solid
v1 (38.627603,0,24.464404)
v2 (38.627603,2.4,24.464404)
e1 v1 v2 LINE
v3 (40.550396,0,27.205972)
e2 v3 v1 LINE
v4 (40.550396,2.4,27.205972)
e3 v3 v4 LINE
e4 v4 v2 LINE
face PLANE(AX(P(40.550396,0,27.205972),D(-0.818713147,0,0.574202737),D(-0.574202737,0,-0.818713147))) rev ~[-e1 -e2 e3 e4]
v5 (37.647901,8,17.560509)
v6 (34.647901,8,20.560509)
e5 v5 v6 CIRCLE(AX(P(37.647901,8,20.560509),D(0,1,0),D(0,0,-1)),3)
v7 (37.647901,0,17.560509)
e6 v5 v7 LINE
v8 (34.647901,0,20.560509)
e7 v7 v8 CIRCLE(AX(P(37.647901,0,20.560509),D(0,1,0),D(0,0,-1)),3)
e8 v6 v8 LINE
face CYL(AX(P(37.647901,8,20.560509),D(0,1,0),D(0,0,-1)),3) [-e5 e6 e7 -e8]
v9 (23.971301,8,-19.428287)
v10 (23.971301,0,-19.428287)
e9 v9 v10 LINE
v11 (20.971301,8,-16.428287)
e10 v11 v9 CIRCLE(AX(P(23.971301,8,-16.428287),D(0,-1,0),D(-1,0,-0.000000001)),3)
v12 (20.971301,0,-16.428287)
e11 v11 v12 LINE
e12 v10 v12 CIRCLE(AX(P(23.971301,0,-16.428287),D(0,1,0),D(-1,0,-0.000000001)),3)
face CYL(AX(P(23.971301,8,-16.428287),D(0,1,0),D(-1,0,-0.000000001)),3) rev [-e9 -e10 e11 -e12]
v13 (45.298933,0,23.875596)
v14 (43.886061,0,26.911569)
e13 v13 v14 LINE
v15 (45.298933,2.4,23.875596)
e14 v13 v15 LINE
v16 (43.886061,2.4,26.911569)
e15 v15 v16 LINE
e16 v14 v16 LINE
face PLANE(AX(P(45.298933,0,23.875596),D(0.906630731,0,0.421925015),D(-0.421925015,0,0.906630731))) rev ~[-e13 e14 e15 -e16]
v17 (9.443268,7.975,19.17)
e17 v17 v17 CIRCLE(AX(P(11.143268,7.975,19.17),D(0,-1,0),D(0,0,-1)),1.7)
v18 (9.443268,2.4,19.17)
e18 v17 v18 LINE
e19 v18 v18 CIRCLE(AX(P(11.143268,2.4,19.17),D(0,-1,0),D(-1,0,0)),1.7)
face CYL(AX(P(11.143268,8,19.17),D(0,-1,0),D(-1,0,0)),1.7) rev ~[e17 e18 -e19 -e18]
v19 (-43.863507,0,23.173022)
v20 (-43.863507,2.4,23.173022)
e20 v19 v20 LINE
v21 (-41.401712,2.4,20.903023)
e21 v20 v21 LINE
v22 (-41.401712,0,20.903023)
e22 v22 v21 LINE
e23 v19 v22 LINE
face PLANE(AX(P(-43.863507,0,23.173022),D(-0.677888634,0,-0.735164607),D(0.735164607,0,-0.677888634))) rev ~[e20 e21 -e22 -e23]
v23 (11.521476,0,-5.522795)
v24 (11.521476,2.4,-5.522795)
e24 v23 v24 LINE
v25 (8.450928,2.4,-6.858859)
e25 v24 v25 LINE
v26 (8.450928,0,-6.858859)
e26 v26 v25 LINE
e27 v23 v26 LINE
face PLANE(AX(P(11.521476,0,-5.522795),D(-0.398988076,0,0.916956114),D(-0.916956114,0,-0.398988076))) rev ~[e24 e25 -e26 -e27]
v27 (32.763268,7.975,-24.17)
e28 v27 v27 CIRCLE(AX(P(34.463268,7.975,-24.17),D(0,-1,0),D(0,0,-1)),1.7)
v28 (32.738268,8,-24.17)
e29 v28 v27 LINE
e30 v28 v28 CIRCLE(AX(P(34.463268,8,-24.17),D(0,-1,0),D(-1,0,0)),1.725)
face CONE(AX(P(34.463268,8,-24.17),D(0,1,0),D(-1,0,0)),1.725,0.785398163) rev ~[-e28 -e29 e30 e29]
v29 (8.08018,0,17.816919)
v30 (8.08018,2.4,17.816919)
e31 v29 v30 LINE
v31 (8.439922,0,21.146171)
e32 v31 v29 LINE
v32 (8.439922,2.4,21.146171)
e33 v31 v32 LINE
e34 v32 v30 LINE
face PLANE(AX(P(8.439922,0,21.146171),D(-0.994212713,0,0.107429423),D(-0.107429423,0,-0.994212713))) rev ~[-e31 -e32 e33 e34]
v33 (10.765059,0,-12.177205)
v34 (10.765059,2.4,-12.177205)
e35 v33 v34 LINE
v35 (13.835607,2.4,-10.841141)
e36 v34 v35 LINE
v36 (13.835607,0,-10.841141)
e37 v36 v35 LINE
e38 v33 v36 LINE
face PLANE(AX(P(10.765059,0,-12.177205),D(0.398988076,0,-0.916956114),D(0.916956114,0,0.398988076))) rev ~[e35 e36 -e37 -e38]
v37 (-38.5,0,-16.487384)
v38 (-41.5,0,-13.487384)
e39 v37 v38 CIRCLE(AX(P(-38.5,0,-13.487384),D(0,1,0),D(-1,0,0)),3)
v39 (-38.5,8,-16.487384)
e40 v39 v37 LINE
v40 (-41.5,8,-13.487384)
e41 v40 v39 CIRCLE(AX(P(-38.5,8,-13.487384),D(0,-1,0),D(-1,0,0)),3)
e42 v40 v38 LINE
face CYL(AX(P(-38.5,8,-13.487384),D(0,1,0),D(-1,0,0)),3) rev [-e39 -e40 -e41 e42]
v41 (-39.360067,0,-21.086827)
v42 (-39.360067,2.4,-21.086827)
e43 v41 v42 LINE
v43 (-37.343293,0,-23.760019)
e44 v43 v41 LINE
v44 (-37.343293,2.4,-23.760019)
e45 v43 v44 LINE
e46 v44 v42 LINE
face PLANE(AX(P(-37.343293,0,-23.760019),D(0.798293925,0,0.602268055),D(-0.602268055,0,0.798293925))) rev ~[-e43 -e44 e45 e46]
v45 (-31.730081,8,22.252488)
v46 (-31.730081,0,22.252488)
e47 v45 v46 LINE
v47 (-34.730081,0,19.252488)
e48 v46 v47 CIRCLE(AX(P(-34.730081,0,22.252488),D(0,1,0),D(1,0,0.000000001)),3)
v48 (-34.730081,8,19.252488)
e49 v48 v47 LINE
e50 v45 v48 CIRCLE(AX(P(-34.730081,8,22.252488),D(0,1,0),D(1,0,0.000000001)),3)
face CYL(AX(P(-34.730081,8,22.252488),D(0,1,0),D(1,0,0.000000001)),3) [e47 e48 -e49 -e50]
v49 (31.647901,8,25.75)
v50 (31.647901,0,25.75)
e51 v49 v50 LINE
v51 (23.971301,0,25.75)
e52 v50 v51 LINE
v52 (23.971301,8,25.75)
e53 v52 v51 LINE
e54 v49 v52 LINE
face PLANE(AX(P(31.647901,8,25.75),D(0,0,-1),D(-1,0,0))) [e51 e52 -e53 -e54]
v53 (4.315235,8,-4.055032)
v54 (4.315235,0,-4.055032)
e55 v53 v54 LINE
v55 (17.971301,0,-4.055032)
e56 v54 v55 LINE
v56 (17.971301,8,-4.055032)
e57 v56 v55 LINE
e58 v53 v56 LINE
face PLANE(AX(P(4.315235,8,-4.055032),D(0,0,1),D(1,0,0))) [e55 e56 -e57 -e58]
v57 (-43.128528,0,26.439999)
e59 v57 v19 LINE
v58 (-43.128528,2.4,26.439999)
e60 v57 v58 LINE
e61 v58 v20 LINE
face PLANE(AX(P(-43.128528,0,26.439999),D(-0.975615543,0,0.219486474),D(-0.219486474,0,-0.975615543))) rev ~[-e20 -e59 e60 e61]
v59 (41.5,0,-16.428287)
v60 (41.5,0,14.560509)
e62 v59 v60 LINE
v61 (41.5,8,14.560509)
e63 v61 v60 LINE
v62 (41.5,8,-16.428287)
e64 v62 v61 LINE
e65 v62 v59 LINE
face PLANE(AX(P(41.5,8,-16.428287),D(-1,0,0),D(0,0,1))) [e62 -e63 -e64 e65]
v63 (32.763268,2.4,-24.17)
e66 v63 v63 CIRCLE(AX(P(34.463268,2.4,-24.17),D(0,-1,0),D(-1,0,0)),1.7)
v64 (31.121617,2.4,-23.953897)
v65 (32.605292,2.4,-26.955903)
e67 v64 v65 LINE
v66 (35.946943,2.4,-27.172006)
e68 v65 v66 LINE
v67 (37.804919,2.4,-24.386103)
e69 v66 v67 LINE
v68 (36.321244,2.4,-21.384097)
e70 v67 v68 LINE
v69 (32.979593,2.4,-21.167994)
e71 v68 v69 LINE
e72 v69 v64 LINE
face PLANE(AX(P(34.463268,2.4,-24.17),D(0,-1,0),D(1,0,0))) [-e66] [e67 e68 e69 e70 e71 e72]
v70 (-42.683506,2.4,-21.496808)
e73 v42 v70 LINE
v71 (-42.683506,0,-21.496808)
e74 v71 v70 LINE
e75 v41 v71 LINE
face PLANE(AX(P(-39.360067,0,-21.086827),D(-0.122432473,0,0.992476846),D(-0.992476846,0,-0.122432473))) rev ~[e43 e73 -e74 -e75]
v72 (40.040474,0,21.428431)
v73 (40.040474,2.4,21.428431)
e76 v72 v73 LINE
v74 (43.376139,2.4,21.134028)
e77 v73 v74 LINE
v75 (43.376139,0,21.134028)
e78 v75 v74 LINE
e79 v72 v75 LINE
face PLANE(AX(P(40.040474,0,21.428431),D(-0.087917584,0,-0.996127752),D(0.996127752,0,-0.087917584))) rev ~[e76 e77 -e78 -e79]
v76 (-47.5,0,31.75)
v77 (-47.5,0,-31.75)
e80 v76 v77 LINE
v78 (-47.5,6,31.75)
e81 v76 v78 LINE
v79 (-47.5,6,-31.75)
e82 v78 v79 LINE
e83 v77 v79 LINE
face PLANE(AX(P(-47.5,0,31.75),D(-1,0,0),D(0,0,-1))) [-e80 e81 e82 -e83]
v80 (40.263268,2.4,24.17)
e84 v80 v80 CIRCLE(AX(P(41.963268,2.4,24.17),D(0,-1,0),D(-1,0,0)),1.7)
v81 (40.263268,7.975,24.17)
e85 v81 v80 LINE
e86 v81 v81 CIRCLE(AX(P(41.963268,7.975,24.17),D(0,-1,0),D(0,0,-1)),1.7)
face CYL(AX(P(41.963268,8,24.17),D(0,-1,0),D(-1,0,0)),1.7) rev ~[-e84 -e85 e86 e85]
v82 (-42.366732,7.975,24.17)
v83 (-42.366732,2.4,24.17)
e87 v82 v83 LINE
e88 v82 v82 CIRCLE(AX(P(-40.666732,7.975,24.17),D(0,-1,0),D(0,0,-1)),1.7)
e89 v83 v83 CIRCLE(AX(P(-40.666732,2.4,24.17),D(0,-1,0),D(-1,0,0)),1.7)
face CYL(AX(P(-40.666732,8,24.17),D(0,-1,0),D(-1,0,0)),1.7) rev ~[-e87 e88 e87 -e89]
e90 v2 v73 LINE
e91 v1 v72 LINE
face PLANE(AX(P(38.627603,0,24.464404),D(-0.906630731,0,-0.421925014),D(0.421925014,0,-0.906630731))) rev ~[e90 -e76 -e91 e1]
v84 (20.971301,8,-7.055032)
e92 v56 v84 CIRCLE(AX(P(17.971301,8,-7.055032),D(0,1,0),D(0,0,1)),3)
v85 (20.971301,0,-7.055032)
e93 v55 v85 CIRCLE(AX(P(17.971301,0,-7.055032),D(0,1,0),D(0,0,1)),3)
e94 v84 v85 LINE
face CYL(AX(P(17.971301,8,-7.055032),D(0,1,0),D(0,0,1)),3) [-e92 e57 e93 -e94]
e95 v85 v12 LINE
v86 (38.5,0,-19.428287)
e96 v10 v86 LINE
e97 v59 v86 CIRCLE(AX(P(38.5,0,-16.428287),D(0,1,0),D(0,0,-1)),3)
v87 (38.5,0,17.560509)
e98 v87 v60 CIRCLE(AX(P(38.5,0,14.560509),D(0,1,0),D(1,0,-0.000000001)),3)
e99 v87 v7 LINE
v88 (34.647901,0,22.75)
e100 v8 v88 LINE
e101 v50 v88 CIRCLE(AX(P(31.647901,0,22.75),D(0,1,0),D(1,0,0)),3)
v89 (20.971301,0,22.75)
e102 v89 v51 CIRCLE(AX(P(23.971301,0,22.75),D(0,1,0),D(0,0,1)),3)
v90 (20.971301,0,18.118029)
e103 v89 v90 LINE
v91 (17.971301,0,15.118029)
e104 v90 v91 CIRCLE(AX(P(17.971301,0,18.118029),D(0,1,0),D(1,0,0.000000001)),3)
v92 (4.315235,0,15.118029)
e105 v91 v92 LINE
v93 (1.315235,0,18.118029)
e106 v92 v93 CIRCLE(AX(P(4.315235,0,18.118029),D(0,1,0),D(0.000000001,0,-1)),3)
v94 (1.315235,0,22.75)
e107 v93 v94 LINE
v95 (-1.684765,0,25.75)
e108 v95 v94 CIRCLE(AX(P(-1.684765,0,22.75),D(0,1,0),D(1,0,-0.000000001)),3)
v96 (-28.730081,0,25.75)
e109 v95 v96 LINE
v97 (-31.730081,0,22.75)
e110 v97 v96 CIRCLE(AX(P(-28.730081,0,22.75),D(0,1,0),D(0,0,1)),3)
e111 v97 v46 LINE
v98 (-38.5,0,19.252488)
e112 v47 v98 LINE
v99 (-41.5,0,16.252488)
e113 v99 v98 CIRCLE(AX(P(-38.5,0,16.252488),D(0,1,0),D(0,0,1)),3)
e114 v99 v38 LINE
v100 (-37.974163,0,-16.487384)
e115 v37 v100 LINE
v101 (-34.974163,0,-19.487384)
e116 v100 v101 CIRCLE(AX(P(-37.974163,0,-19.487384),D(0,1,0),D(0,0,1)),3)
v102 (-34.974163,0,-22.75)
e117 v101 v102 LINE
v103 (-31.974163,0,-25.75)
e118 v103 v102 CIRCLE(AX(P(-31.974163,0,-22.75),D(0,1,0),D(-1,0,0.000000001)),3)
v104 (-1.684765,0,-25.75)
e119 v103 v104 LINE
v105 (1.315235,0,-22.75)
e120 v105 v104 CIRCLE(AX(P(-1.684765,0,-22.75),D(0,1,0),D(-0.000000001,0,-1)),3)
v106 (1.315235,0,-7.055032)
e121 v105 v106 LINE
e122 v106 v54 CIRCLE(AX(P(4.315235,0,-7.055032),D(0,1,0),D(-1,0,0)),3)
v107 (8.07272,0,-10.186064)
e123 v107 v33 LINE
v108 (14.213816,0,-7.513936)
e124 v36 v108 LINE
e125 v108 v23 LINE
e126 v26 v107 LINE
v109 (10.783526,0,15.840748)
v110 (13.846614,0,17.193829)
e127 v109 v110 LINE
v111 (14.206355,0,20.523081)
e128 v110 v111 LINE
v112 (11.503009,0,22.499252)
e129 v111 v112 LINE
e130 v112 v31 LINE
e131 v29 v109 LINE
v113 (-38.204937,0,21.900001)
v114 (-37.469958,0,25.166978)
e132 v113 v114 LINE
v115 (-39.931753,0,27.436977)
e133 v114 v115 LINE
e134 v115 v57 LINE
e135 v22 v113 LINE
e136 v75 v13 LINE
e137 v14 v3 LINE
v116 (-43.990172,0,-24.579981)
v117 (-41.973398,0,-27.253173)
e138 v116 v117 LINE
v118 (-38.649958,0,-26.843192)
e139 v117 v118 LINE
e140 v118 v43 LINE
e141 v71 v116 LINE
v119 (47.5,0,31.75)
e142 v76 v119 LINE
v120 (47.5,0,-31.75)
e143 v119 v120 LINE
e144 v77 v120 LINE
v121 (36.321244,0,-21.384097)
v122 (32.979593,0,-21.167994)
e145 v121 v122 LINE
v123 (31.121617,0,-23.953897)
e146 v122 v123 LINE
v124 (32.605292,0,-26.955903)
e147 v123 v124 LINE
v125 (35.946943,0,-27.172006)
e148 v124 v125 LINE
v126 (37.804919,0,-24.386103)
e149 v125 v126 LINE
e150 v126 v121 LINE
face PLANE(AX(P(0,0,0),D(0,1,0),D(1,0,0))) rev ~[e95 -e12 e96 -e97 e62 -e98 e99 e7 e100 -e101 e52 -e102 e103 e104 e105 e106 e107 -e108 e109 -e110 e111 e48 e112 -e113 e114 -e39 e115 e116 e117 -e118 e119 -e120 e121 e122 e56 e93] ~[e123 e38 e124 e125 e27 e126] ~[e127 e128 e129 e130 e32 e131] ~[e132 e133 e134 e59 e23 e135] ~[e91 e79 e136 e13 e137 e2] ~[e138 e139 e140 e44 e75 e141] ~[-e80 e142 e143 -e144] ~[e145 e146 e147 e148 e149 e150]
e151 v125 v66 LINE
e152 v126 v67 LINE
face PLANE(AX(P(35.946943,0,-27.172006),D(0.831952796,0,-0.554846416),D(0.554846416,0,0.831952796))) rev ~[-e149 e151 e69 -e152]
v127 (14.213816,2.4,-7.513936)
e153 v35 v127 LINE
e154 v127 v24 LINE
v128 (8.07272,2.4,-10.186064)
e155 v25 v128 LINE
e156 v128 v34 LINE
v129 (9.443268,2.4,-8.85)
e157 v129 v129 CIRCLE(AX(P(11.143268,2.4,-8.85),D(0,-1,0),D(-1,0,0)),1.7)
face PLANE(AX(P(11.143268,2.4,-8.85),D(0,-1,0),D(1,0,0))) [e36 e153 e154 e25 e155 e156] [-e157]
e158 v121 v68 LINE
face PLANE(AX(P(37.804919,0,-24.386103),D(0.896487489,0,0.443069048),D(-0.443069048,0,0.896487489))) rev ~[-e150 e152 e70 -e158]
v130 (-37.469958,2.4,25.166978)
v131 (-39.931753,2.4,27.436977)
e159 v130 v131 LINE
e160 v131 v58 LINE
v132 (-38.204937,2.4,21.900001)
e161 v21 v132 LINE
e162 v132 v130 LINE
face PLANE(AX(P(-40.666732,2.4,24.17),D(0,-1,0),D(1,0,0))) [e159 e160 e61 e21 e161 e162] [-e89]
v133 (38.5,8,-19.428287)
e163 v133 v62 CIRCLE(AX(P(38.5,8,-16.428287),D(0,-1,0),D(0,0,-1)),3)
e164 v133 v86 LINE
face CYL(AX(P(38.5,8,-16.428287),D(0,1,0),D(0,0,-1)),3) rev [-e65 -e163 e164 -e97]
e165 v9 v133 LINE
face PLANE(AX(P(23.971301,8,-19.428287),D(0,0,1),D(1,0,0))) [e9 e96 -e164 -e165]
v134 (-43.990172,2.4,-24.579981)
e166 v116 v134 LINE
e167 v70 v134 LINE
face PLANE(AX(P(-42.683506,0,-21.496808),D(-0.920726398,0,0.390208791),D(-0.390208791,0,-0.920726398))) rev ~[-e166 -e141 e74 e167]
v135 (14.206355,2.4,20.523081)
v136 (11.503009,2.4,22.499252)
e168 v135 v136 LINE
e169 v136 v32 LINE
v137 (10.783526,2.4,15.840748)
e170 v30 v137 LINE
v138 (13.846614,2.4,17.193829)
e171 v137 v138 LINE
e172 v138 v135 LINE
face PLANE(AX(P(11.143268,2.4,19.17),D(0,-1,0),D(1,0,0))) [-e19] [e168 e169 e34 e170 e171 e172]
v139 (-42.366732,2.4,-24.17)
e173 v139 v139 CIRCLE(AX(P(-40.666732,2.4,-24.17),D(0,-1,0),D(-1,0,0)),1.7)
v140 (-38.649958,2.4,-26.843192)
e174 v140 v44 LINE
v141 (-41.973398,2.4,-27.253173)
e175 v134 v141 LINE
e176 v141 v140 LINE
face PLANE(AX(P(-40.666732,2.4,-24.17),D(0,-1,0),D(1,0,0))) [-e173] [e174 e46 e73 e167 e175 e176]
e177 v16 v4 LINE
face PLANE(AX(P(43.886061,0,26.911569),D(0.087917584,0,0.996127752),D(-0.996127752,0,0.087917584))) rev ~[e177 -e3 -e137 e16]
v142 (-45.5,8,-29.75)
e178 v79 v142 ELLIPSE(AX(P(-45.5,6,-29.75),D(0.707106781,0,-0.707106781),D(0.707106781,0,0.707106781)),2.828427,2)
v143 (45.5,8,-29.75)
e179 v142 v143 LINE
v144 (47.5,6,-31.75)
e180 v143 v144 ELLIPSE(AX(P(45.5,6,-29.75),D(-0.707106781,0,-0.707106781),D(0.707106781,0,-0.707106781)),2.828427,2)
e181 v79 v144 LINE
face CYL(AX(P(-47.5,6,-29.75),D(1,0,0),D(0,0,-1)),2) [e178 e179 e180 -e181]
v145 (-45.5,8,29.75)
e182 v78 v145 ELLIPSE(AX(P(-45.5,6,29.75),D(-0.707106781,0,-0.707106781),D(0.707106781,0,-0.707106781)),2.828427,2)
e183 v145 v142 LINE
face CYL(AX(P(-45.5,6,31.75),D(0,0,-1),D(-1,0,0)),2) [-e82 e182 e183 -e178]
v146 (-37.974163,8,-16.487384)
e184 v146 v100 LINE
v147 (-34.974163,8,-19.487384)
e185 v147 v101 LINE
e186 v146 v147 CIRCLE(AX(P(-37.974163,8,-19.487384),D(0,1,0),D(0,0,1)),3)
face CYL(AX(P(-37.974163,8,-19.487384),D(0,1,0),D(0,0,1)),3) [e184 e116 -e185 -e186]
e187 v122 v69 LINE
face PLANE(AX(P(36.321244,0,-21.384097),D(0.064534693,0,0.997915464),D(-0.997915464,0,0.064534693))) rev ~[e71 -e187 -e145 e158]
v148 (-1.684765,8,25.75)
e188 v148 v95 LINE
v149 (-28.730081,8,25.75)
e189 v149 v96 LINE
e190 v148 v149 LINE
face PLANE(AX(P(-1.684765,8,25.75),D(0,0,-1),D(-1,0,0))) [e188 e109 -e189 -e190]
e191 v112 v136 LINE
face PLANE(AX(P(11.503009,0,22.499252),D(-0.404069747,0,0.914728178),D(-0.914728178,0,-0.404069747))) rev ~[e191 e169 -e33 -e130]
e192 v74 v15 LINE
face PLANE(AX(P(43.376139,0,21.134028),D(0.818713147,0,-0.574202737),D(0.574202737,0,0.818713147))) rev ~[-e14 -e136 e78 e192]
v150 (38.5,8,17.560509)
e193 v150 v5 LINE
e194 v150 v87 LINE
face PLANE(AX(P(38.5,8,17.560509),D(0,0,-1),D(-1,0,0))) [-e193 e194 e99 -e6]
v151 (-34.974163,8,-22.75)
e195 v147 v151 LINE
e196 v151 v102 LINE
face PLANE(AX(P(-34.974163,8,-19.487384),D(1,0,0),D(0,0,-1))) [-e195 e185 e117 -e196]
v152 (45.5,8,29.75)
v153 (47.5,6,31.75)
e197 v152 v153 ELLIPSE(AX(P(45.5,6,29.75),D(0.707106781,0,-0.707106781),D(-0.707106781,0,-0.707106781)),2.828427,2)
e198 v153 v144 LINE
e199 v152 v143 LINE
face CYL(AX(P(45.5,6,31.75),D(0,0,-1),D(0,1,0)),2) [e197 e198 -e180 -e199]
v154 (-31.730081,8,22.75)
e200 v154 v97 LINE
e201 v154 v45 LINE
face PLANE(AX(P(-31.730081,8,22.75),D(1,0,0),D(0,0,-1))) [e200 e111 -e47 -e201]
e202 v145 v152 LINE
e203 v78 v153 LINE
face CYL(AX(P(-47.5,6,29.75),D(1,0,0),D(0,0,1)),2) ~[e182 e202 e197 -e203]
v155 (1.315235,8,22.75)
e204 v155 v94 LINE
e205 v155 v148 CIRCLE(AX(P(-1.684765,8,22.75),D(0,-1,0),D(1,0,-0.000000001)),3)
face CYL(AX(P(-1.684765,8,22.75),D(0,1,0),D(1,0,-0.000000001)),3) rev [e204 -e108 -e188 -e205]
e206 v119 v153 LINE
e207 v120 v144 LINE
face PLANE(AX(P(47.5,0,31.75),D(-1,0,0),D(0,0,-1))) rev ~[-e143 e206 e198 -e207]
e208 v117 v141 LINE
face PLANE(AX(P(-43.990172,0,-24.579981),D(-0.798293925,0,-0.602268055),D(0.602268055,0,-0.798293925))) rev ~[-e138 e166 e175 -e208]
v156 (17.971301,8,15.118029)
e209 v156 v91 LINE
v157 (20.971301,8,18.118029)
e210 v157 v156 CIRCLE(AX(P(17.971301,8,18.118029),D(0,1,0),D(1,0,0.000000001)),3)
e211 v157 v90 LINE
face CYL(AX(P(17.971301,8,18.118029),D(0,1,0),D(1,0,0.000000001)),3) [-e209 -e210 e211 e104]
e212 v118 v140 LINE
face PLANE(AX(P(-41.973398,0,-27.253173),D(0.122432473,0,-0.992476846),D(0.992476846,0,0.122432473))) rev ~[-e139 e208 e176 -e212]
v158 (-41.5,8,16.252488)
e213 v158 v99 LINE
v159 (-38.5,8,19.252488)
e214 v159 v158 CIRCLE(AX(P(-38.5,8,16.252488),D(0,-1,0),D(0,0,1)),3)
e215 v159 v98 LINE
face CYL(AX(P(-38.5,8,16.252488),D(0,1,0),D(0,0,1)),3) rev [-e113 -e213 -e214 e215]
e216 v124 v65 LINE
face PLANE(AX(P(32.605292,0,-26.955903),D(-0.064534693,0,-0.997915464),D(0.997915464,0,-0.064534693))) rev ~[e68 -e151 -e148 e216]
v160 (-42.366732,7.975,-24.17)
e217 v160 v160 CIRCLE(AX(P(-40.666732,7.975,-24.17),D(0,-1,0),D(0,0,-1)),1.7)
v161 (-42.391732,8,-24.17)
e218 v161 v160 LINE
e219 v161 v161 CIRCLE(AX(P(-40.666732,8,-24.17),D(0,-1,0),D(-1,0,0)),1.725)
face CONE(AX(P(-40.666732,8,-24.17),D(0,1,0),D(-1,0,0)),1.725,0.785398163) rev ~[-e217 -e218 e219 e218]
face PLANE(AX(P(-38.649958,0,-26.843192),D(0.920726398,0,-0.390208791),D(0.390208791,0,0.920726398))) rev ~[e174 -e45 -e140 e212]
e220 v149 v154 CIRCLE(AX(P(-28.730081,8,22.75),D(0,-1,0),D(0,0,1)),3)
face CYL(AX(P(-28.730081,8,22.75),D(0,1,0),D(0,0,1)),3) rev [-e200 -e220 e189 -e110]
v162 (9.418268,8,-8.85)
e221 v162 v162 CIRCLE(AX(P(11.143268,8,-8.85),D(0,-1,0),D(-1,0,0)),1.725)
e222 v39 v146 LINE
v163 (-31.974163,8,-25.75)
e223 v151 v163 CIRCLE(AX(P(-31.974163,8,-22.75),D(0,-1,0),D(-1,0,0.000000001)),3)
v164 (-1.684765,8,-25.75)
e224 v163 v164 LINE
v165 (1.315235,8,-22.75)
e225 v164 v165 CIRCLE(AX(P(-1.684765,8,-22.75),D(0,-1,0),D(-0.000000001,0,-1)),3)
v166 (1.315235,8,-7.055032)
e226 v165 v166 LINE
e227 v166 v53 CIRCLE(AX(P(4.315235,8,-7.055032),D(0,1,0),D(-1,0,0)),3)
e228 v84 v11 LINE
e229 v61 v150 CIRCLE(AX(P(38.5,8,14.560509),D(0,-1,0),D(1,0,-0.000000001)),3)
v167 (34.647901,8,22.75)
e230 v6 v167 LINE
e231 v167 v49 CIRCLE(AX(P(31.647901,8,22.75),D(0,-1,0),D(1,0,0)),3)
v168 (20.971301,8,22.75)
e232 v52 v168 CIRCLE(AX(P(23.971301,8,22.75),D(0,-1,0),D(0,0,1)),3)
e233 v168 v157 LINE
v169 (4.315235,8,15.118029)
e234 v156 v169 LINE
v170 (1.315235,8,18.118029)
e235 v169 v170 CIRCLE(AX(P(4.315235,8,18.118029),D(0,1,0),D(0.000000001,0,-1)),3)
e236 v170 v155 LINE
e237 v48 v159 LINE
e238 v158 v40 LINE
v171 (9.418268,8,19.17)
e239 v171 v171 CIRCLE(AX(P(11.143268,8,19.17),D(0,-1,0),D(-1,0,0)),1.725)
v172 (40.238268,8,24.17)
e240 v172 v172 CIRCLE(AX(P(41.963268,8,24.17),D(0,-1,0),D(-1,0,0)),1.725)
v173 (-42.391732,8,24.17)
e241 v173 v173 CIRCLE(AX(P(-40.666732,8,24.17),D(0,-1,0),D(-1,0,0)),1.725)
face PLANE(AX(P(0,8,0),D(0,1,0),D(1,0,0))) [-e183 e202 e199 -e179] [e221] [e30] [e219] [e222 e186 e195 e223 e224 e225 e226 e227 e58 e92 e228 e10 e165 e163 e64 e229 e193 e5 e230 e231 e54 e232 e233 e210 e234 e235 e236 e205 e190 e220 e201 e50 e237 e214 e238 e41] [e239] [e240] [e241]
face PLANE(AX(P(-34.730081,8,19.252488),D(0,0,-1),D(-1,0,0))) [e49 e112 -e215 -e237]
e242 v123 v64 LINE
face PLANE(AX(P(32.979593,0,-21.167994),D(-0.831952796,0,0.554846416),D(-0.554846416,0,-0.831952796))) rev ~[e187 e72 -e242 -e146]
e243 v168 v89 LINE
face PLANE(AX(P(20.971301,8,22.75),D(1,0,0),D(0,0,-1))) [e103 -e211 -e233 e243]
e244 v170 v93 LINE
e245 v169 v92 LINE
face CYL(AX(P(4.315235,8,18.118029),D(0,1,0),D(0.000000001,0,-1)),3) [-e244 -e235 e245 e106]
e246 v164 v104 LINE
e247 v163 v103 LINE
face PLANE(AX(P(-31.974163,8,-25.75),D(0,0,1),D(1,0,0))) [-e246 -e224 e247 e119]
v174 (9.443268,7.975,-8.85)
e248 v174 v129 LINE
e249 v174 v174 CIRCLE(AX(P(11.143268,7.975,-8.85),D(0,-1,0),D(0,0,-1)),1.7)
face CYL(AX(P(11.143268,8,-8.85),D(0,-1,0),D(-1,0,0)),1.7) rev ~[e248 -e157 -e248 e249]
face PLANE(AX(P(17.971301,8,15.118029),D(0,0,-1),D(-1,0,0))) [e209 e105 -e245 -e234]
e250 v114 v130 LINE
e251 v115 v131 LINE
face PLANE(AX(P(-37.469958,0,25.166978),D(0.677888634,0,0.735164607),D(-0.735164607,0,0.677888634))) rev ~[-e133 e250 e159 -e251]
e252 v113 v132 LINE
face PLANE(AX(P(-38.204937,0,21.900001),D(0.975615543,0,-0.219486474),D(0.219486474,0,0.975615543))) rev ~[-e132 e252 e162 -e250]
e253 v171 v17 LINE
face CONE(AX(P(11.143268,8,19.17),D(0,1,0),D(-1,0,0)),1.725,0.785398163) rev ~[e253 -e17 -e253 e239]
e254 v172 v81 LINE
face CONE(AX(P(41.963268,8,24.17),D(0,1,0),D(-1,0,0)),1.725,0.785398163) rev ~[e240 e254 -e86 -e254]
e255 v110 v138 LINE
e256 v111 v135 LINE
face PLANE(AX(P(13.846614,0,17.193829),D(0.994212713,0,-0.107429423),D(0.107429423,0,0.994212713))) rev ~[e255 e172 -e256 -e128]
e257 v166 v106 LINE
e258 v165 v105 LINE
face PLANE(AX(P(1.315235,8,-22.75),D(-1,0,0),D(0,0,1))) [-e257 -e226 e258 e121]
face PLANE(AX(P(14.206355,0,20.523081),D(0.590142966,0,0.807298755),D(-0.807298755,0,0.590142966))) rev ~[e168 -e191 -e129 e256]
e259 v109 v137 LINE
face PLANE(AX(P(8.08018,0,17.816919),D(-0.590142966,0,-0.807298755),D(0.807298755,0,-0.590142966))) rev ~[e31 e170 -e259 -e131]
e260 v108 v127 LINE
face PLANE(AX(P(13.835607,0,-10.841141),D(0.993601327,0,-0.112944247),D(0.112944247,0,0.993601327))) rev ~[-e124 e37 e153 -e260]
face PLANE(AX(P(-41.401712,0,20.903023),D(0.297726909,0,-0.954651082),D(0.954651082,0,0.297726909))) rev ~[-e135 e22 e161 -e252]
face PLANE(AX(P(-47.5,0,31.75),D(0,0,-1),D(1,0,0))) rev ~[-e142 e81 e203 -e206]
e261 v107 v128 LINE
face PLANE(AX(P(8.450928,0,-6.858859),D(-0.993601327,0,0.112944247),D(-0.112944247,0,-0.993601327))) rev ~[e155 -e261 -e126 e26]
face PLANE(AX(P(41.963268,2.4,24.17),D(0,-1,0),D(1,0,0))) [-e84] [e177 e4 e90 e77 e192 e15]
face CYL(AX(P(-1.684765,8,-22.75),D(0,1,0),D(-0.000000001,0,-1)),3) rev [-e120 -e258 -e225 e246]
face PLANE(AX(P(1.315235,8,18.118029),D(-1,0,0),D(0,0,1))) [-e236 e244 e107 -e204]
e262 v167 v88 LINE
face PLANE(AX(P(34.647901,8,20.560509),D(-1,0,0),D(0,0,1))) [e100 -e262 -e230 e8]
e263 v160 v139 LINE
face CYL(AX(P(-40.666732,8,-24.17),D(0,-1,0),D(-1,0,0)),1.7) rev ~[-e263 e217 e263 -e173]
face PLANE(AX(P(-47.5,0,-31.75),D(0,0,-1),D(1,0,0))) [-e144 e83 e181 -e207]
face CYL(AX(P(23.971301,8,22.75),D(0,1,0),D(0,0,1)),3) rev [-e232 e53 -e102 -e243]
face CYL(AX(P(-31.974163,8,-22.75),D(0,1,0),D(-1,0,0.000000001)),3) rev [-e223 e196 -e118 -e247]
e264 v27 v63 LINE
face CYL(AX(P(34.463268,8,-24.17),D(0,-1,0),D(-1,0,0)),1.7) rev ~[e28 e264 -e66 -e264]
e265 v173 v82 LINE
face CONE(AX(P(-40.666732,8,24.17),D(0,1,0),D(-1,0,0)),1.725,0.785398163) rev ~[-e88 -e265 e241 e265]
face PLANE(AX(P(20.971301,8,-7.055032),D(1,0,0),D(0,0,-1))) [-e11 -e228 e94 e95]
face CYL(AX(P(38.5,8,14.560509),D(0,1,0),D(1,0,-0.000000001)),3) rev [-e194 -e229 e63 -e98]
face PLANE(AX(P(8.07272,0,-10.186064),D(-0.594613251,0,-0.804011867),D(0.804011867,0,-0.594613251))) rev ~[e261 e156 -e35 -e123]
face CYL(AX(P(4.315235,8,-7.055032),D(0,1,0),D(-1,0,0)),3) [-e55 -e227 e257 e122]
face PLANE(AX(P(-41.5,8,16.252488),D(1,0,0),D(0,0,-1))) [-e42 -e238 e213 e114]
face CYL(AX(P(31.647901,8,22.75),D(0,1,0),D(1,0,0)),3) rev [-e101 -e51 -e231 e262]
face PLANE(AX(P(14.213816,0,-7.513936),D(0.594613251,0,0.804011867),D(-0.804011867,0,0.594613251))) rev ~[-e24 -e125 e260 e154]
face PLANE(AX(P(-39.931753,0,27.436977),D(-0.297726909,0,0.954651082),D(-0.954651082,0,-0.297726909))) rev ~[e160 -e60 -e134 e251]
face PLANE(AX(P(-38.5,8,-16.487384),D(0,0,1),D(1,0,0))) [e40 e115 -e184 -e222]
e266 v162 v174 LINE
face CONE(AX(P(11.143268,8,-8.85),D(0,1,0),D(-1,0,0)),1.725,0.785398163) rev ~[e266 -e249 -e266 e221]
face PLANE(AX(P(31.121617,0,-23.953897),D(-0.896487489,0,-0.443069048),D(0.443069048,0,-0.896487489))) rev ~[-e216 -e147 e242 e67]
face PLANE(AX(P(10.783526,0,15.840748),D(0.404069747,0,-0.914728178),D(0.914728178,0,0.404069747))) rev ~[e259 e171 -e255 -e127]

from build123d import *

# Parameters (mm, degrees)
SKETCH2_W                      = 95
SKETCH2_H                      = 63.5
BOSS_EXTRUDE1_DEPTH            = 8
M3_CLEARANCE_HOLE1_D           = 3.4
M3_CLEARANCE_HOLE1_CSINK_D     = 3.45
M3_CLEARANCE_HOLE1_CSINK_ANGLE = 90
CUT_EXTRUDE1_DEPTH             = 10
CUT_EXTRUDE2_DEPTH             = 2.4
FILLET2_R                      = 2


with BuildPart() as part:
    # Sketch2 → Boss-Extrude1 (new body)
    with BuildSketch(Plane(origin=(0, 0, 0), x_dir=(1, 0, 0), z_dir=(0, 1, 0))):
        Rectangle(SKETCH2_W, SKETCH2_H)
    extrude(amount=BOSS_EXTRUDE1_DEPTH)

    # M3 Clearance Hole1 (through all)
    with Locations(Plane(origin=(0, 8, 0), x_dir=(1, 0, 0), z_dir=(0, 1, 0))):
        with Locations((-40.666732268, 24.17), (-40.666732268, -24.17), (34.463267732, 24.17), (41.963267732, -24.17), (11.143267732, -19.17), (11.143267732, 8.85)):
            CounterSinkHole(M3_CLEARANCE_HOLE1_D / 2, M3_CLEARANCE_HOLE1_CSINK_D / 2, counter_sink_angle=M3_CLEARANCE_HOLE1_CSINK_ANGLE)

    # Sketch9 → Cut-Extrude1 (cut)
    with BuildSketch(Plane(origin=(0, 8, 0), x_dir=(1, 0, 0), z_dir=(0, 1, 0))):
        with BuildLine():
            Line((-34.974163292, 19.487383717), (-34.974163292, 22.75))
            ThreePointArc((-34.974163292, 22.75), (-34.095483636, 24.871320344), (-31.974163292, 25.75))
            Line((-31.974163292, 25.75), (-1.684765082, 25.75))
            ThreePointArc((-1.684765082, 25.75), (0.436555262, 24.871320344), (1.315234918, 22.75))
            Line((1.315234918, 22.75), (1.315234918, 7.055031971))
            ThreePointArc((1.315234918, 7.055031971), (2.193914574, 4.933711628), (4.315234918, 4.055031971))
            Line((4.315234918, 4.055031971), (17.971300546, 4.055031971))
            ThreePointArc((17.971300546, 4.055031971), (20.09262089, 4.933711628), (20.971300546, 7.055031971))
            Line((20.971300546, 7.055031971), (20.971300546, 16.428287462))
            ThreePointArc((20.971300546, 16.428287462), (21.849980203, 18.549607805), (23.971300546, 19.428287462))
            Line((23.971300546, 19.428287462), (38.5, 19.428287462))
            ThreePointArc((38.5, 19.428287462), (40.621320344, 18.549607805), (41.5, 16.428287462))
            Line((41.5, 16.428287462), (41.5, -14.560508757))
            ThreePointArc((41.5, -14.560508757), (40.621320344, -16.681829101), (38.5, -17.560508757))
            Line((38.5, -17.560508757), (37.647901029, -17.560508757))
            ThreePointArc((37.647901029, -17.560508757), (35.526580685, -18.439188414), (34.647901029, -20.560508757))
            Line((34.647901029, -20.560508757), (34.647901029, -22.75))
            ThreePointArc((34.647901029, -22.75), (33.769221372, -24.871320344), (31.647901029, -25.75))
            Line((31.647901029, -25.75), (23.971300546, -25.75))
            ThreePointArc((23.971300546, -25.75), (21.849980203, -24.871320344), (20.971300546, -22.75))
            Line((20.971300546, -22.75), (20.971300546, -18.118028913))
            ThreePointArc((20.971300546, -18.118028913), (20.09262089, -15.996708569), (17.971300546, -15.118028913))
            Line((17.971300546, -15.118028913), (4.315234918, -15.118028913))
            ThreePointArc((4.315234918, -15.118028913), (2.193914574, -15.996708569), (1.315234918, -18.118028913))
            Line((1.315234918, -18.118028913), (1.315234918, -22.75))
            ThreePointArc((1.315234918, -22.75), (0.436555262, -24.871320344), (-1.684765082, -25.75))
            Line((-1.684765082, -25.75), (-28.730080623, -25.75))
            ThreePointArc((-28.730080623, -25.75), (-30.851400966, -24.871320344), (-31.730080623, -22.75))
            Line((-31.730080623, -22.75), (-31.730080623, -22.252488185))
            ThreePointArc((-31.730080623, -22.252488185), (-32.608760279, -20.131167841), (-34.730080623, -19.252488185))
            Line((-34.730080623, -19.252488185), (-38.5, -19.252488185))
            ThreePointArc((-38.5, -19.252488185), (-40.621320344, -18.373808528), (-41.5, -16.252488185))
            Line((-41.5, -16.252488185), (-41.5, 13.487383717))
            ThreePointArc((-41.5, 13.487383717), (-40.621320344, 15.60870406), (-38.5, 16.487383717))
            Line((-38.5, 16.487383717), (-37.974163292, 16.487383717))
            ThreePointArc((-37.974163292, 16.487383717), (-35.852842949, 17.366063373), (-34.974163292, 19.487383717))
        make_face()
    extrude(amount=-CUT_EXTRUDE1_DEPTH, mode=Mode.SUBTRACT)

    # Sketch10 → Cut-Extrude2 (cut)
    with BuildSketch(Plane.XZ):
        Polygon((-41.401711603, 20.903023001), (-38.204936861, 21.900000725), (-37.469957526, 25.166977724), (-39.931752933, 27.436976999), (-43.128527675, 26.439999275), (-43.86350701, 23.173022276), align=None)
        Polygon((-41.973397742, -27.253173474), (-38.649958452, -26.843192232), (-37.343292978, -23.760018758), (-39.360066794, -21.086826526), (-42.683506084, -21.496807768), (-43.990171558, -24.579981242), align=None)
        Polygon((8.072719548, -10.186064064), (10.765059061, -12.177204763), (13.835607245, -10.841140699), (14.213815916, -7.513935936), (11.521476403, -5.522795237), (8.450928219, -6.858859301), align=None)
        Polygon((8.080180086, 17.816919291), (10.783526176, 15.84074793), (13.846613823, 17.193828639), (14.206355378, 20.523080709), (11.503009288, 22.49925207), (8.439921642, 21.146171361), align=None)
        Polygon((32.605291512, -26.95590339), (35.94694273, -27.172006301), (37.804918951, -24.386102911), (36.321243952, -21.38409661), (32.979592734, -21.167993699), (31.121616514, -23.953897089), align=None)
        Polygon((40.040474323, 21.428431318), (43.376139153, 21.13402772), (45.298932562, 23.875596402), (43.886061141, 26.911568682), (40.550396312, 27.20597228), (38.627602903, 24.464403598), align=None)
    extrude(amount=-CUT_EXTRUDE2_DEPTH, mode=Mode.SUBTRACT)

    # Fillet2
    fillet2_edges = [part.edges().sort_by_distance(p)[0] for p in [
        (47.5, 8, 0),
        (0, 8, -31.75),
        (-47.5, 8, 0),
        (0, 8, 31.75),
    ]]
    fillet(fillet2_edges, radius=FILLET2_R)


solid = part.part
